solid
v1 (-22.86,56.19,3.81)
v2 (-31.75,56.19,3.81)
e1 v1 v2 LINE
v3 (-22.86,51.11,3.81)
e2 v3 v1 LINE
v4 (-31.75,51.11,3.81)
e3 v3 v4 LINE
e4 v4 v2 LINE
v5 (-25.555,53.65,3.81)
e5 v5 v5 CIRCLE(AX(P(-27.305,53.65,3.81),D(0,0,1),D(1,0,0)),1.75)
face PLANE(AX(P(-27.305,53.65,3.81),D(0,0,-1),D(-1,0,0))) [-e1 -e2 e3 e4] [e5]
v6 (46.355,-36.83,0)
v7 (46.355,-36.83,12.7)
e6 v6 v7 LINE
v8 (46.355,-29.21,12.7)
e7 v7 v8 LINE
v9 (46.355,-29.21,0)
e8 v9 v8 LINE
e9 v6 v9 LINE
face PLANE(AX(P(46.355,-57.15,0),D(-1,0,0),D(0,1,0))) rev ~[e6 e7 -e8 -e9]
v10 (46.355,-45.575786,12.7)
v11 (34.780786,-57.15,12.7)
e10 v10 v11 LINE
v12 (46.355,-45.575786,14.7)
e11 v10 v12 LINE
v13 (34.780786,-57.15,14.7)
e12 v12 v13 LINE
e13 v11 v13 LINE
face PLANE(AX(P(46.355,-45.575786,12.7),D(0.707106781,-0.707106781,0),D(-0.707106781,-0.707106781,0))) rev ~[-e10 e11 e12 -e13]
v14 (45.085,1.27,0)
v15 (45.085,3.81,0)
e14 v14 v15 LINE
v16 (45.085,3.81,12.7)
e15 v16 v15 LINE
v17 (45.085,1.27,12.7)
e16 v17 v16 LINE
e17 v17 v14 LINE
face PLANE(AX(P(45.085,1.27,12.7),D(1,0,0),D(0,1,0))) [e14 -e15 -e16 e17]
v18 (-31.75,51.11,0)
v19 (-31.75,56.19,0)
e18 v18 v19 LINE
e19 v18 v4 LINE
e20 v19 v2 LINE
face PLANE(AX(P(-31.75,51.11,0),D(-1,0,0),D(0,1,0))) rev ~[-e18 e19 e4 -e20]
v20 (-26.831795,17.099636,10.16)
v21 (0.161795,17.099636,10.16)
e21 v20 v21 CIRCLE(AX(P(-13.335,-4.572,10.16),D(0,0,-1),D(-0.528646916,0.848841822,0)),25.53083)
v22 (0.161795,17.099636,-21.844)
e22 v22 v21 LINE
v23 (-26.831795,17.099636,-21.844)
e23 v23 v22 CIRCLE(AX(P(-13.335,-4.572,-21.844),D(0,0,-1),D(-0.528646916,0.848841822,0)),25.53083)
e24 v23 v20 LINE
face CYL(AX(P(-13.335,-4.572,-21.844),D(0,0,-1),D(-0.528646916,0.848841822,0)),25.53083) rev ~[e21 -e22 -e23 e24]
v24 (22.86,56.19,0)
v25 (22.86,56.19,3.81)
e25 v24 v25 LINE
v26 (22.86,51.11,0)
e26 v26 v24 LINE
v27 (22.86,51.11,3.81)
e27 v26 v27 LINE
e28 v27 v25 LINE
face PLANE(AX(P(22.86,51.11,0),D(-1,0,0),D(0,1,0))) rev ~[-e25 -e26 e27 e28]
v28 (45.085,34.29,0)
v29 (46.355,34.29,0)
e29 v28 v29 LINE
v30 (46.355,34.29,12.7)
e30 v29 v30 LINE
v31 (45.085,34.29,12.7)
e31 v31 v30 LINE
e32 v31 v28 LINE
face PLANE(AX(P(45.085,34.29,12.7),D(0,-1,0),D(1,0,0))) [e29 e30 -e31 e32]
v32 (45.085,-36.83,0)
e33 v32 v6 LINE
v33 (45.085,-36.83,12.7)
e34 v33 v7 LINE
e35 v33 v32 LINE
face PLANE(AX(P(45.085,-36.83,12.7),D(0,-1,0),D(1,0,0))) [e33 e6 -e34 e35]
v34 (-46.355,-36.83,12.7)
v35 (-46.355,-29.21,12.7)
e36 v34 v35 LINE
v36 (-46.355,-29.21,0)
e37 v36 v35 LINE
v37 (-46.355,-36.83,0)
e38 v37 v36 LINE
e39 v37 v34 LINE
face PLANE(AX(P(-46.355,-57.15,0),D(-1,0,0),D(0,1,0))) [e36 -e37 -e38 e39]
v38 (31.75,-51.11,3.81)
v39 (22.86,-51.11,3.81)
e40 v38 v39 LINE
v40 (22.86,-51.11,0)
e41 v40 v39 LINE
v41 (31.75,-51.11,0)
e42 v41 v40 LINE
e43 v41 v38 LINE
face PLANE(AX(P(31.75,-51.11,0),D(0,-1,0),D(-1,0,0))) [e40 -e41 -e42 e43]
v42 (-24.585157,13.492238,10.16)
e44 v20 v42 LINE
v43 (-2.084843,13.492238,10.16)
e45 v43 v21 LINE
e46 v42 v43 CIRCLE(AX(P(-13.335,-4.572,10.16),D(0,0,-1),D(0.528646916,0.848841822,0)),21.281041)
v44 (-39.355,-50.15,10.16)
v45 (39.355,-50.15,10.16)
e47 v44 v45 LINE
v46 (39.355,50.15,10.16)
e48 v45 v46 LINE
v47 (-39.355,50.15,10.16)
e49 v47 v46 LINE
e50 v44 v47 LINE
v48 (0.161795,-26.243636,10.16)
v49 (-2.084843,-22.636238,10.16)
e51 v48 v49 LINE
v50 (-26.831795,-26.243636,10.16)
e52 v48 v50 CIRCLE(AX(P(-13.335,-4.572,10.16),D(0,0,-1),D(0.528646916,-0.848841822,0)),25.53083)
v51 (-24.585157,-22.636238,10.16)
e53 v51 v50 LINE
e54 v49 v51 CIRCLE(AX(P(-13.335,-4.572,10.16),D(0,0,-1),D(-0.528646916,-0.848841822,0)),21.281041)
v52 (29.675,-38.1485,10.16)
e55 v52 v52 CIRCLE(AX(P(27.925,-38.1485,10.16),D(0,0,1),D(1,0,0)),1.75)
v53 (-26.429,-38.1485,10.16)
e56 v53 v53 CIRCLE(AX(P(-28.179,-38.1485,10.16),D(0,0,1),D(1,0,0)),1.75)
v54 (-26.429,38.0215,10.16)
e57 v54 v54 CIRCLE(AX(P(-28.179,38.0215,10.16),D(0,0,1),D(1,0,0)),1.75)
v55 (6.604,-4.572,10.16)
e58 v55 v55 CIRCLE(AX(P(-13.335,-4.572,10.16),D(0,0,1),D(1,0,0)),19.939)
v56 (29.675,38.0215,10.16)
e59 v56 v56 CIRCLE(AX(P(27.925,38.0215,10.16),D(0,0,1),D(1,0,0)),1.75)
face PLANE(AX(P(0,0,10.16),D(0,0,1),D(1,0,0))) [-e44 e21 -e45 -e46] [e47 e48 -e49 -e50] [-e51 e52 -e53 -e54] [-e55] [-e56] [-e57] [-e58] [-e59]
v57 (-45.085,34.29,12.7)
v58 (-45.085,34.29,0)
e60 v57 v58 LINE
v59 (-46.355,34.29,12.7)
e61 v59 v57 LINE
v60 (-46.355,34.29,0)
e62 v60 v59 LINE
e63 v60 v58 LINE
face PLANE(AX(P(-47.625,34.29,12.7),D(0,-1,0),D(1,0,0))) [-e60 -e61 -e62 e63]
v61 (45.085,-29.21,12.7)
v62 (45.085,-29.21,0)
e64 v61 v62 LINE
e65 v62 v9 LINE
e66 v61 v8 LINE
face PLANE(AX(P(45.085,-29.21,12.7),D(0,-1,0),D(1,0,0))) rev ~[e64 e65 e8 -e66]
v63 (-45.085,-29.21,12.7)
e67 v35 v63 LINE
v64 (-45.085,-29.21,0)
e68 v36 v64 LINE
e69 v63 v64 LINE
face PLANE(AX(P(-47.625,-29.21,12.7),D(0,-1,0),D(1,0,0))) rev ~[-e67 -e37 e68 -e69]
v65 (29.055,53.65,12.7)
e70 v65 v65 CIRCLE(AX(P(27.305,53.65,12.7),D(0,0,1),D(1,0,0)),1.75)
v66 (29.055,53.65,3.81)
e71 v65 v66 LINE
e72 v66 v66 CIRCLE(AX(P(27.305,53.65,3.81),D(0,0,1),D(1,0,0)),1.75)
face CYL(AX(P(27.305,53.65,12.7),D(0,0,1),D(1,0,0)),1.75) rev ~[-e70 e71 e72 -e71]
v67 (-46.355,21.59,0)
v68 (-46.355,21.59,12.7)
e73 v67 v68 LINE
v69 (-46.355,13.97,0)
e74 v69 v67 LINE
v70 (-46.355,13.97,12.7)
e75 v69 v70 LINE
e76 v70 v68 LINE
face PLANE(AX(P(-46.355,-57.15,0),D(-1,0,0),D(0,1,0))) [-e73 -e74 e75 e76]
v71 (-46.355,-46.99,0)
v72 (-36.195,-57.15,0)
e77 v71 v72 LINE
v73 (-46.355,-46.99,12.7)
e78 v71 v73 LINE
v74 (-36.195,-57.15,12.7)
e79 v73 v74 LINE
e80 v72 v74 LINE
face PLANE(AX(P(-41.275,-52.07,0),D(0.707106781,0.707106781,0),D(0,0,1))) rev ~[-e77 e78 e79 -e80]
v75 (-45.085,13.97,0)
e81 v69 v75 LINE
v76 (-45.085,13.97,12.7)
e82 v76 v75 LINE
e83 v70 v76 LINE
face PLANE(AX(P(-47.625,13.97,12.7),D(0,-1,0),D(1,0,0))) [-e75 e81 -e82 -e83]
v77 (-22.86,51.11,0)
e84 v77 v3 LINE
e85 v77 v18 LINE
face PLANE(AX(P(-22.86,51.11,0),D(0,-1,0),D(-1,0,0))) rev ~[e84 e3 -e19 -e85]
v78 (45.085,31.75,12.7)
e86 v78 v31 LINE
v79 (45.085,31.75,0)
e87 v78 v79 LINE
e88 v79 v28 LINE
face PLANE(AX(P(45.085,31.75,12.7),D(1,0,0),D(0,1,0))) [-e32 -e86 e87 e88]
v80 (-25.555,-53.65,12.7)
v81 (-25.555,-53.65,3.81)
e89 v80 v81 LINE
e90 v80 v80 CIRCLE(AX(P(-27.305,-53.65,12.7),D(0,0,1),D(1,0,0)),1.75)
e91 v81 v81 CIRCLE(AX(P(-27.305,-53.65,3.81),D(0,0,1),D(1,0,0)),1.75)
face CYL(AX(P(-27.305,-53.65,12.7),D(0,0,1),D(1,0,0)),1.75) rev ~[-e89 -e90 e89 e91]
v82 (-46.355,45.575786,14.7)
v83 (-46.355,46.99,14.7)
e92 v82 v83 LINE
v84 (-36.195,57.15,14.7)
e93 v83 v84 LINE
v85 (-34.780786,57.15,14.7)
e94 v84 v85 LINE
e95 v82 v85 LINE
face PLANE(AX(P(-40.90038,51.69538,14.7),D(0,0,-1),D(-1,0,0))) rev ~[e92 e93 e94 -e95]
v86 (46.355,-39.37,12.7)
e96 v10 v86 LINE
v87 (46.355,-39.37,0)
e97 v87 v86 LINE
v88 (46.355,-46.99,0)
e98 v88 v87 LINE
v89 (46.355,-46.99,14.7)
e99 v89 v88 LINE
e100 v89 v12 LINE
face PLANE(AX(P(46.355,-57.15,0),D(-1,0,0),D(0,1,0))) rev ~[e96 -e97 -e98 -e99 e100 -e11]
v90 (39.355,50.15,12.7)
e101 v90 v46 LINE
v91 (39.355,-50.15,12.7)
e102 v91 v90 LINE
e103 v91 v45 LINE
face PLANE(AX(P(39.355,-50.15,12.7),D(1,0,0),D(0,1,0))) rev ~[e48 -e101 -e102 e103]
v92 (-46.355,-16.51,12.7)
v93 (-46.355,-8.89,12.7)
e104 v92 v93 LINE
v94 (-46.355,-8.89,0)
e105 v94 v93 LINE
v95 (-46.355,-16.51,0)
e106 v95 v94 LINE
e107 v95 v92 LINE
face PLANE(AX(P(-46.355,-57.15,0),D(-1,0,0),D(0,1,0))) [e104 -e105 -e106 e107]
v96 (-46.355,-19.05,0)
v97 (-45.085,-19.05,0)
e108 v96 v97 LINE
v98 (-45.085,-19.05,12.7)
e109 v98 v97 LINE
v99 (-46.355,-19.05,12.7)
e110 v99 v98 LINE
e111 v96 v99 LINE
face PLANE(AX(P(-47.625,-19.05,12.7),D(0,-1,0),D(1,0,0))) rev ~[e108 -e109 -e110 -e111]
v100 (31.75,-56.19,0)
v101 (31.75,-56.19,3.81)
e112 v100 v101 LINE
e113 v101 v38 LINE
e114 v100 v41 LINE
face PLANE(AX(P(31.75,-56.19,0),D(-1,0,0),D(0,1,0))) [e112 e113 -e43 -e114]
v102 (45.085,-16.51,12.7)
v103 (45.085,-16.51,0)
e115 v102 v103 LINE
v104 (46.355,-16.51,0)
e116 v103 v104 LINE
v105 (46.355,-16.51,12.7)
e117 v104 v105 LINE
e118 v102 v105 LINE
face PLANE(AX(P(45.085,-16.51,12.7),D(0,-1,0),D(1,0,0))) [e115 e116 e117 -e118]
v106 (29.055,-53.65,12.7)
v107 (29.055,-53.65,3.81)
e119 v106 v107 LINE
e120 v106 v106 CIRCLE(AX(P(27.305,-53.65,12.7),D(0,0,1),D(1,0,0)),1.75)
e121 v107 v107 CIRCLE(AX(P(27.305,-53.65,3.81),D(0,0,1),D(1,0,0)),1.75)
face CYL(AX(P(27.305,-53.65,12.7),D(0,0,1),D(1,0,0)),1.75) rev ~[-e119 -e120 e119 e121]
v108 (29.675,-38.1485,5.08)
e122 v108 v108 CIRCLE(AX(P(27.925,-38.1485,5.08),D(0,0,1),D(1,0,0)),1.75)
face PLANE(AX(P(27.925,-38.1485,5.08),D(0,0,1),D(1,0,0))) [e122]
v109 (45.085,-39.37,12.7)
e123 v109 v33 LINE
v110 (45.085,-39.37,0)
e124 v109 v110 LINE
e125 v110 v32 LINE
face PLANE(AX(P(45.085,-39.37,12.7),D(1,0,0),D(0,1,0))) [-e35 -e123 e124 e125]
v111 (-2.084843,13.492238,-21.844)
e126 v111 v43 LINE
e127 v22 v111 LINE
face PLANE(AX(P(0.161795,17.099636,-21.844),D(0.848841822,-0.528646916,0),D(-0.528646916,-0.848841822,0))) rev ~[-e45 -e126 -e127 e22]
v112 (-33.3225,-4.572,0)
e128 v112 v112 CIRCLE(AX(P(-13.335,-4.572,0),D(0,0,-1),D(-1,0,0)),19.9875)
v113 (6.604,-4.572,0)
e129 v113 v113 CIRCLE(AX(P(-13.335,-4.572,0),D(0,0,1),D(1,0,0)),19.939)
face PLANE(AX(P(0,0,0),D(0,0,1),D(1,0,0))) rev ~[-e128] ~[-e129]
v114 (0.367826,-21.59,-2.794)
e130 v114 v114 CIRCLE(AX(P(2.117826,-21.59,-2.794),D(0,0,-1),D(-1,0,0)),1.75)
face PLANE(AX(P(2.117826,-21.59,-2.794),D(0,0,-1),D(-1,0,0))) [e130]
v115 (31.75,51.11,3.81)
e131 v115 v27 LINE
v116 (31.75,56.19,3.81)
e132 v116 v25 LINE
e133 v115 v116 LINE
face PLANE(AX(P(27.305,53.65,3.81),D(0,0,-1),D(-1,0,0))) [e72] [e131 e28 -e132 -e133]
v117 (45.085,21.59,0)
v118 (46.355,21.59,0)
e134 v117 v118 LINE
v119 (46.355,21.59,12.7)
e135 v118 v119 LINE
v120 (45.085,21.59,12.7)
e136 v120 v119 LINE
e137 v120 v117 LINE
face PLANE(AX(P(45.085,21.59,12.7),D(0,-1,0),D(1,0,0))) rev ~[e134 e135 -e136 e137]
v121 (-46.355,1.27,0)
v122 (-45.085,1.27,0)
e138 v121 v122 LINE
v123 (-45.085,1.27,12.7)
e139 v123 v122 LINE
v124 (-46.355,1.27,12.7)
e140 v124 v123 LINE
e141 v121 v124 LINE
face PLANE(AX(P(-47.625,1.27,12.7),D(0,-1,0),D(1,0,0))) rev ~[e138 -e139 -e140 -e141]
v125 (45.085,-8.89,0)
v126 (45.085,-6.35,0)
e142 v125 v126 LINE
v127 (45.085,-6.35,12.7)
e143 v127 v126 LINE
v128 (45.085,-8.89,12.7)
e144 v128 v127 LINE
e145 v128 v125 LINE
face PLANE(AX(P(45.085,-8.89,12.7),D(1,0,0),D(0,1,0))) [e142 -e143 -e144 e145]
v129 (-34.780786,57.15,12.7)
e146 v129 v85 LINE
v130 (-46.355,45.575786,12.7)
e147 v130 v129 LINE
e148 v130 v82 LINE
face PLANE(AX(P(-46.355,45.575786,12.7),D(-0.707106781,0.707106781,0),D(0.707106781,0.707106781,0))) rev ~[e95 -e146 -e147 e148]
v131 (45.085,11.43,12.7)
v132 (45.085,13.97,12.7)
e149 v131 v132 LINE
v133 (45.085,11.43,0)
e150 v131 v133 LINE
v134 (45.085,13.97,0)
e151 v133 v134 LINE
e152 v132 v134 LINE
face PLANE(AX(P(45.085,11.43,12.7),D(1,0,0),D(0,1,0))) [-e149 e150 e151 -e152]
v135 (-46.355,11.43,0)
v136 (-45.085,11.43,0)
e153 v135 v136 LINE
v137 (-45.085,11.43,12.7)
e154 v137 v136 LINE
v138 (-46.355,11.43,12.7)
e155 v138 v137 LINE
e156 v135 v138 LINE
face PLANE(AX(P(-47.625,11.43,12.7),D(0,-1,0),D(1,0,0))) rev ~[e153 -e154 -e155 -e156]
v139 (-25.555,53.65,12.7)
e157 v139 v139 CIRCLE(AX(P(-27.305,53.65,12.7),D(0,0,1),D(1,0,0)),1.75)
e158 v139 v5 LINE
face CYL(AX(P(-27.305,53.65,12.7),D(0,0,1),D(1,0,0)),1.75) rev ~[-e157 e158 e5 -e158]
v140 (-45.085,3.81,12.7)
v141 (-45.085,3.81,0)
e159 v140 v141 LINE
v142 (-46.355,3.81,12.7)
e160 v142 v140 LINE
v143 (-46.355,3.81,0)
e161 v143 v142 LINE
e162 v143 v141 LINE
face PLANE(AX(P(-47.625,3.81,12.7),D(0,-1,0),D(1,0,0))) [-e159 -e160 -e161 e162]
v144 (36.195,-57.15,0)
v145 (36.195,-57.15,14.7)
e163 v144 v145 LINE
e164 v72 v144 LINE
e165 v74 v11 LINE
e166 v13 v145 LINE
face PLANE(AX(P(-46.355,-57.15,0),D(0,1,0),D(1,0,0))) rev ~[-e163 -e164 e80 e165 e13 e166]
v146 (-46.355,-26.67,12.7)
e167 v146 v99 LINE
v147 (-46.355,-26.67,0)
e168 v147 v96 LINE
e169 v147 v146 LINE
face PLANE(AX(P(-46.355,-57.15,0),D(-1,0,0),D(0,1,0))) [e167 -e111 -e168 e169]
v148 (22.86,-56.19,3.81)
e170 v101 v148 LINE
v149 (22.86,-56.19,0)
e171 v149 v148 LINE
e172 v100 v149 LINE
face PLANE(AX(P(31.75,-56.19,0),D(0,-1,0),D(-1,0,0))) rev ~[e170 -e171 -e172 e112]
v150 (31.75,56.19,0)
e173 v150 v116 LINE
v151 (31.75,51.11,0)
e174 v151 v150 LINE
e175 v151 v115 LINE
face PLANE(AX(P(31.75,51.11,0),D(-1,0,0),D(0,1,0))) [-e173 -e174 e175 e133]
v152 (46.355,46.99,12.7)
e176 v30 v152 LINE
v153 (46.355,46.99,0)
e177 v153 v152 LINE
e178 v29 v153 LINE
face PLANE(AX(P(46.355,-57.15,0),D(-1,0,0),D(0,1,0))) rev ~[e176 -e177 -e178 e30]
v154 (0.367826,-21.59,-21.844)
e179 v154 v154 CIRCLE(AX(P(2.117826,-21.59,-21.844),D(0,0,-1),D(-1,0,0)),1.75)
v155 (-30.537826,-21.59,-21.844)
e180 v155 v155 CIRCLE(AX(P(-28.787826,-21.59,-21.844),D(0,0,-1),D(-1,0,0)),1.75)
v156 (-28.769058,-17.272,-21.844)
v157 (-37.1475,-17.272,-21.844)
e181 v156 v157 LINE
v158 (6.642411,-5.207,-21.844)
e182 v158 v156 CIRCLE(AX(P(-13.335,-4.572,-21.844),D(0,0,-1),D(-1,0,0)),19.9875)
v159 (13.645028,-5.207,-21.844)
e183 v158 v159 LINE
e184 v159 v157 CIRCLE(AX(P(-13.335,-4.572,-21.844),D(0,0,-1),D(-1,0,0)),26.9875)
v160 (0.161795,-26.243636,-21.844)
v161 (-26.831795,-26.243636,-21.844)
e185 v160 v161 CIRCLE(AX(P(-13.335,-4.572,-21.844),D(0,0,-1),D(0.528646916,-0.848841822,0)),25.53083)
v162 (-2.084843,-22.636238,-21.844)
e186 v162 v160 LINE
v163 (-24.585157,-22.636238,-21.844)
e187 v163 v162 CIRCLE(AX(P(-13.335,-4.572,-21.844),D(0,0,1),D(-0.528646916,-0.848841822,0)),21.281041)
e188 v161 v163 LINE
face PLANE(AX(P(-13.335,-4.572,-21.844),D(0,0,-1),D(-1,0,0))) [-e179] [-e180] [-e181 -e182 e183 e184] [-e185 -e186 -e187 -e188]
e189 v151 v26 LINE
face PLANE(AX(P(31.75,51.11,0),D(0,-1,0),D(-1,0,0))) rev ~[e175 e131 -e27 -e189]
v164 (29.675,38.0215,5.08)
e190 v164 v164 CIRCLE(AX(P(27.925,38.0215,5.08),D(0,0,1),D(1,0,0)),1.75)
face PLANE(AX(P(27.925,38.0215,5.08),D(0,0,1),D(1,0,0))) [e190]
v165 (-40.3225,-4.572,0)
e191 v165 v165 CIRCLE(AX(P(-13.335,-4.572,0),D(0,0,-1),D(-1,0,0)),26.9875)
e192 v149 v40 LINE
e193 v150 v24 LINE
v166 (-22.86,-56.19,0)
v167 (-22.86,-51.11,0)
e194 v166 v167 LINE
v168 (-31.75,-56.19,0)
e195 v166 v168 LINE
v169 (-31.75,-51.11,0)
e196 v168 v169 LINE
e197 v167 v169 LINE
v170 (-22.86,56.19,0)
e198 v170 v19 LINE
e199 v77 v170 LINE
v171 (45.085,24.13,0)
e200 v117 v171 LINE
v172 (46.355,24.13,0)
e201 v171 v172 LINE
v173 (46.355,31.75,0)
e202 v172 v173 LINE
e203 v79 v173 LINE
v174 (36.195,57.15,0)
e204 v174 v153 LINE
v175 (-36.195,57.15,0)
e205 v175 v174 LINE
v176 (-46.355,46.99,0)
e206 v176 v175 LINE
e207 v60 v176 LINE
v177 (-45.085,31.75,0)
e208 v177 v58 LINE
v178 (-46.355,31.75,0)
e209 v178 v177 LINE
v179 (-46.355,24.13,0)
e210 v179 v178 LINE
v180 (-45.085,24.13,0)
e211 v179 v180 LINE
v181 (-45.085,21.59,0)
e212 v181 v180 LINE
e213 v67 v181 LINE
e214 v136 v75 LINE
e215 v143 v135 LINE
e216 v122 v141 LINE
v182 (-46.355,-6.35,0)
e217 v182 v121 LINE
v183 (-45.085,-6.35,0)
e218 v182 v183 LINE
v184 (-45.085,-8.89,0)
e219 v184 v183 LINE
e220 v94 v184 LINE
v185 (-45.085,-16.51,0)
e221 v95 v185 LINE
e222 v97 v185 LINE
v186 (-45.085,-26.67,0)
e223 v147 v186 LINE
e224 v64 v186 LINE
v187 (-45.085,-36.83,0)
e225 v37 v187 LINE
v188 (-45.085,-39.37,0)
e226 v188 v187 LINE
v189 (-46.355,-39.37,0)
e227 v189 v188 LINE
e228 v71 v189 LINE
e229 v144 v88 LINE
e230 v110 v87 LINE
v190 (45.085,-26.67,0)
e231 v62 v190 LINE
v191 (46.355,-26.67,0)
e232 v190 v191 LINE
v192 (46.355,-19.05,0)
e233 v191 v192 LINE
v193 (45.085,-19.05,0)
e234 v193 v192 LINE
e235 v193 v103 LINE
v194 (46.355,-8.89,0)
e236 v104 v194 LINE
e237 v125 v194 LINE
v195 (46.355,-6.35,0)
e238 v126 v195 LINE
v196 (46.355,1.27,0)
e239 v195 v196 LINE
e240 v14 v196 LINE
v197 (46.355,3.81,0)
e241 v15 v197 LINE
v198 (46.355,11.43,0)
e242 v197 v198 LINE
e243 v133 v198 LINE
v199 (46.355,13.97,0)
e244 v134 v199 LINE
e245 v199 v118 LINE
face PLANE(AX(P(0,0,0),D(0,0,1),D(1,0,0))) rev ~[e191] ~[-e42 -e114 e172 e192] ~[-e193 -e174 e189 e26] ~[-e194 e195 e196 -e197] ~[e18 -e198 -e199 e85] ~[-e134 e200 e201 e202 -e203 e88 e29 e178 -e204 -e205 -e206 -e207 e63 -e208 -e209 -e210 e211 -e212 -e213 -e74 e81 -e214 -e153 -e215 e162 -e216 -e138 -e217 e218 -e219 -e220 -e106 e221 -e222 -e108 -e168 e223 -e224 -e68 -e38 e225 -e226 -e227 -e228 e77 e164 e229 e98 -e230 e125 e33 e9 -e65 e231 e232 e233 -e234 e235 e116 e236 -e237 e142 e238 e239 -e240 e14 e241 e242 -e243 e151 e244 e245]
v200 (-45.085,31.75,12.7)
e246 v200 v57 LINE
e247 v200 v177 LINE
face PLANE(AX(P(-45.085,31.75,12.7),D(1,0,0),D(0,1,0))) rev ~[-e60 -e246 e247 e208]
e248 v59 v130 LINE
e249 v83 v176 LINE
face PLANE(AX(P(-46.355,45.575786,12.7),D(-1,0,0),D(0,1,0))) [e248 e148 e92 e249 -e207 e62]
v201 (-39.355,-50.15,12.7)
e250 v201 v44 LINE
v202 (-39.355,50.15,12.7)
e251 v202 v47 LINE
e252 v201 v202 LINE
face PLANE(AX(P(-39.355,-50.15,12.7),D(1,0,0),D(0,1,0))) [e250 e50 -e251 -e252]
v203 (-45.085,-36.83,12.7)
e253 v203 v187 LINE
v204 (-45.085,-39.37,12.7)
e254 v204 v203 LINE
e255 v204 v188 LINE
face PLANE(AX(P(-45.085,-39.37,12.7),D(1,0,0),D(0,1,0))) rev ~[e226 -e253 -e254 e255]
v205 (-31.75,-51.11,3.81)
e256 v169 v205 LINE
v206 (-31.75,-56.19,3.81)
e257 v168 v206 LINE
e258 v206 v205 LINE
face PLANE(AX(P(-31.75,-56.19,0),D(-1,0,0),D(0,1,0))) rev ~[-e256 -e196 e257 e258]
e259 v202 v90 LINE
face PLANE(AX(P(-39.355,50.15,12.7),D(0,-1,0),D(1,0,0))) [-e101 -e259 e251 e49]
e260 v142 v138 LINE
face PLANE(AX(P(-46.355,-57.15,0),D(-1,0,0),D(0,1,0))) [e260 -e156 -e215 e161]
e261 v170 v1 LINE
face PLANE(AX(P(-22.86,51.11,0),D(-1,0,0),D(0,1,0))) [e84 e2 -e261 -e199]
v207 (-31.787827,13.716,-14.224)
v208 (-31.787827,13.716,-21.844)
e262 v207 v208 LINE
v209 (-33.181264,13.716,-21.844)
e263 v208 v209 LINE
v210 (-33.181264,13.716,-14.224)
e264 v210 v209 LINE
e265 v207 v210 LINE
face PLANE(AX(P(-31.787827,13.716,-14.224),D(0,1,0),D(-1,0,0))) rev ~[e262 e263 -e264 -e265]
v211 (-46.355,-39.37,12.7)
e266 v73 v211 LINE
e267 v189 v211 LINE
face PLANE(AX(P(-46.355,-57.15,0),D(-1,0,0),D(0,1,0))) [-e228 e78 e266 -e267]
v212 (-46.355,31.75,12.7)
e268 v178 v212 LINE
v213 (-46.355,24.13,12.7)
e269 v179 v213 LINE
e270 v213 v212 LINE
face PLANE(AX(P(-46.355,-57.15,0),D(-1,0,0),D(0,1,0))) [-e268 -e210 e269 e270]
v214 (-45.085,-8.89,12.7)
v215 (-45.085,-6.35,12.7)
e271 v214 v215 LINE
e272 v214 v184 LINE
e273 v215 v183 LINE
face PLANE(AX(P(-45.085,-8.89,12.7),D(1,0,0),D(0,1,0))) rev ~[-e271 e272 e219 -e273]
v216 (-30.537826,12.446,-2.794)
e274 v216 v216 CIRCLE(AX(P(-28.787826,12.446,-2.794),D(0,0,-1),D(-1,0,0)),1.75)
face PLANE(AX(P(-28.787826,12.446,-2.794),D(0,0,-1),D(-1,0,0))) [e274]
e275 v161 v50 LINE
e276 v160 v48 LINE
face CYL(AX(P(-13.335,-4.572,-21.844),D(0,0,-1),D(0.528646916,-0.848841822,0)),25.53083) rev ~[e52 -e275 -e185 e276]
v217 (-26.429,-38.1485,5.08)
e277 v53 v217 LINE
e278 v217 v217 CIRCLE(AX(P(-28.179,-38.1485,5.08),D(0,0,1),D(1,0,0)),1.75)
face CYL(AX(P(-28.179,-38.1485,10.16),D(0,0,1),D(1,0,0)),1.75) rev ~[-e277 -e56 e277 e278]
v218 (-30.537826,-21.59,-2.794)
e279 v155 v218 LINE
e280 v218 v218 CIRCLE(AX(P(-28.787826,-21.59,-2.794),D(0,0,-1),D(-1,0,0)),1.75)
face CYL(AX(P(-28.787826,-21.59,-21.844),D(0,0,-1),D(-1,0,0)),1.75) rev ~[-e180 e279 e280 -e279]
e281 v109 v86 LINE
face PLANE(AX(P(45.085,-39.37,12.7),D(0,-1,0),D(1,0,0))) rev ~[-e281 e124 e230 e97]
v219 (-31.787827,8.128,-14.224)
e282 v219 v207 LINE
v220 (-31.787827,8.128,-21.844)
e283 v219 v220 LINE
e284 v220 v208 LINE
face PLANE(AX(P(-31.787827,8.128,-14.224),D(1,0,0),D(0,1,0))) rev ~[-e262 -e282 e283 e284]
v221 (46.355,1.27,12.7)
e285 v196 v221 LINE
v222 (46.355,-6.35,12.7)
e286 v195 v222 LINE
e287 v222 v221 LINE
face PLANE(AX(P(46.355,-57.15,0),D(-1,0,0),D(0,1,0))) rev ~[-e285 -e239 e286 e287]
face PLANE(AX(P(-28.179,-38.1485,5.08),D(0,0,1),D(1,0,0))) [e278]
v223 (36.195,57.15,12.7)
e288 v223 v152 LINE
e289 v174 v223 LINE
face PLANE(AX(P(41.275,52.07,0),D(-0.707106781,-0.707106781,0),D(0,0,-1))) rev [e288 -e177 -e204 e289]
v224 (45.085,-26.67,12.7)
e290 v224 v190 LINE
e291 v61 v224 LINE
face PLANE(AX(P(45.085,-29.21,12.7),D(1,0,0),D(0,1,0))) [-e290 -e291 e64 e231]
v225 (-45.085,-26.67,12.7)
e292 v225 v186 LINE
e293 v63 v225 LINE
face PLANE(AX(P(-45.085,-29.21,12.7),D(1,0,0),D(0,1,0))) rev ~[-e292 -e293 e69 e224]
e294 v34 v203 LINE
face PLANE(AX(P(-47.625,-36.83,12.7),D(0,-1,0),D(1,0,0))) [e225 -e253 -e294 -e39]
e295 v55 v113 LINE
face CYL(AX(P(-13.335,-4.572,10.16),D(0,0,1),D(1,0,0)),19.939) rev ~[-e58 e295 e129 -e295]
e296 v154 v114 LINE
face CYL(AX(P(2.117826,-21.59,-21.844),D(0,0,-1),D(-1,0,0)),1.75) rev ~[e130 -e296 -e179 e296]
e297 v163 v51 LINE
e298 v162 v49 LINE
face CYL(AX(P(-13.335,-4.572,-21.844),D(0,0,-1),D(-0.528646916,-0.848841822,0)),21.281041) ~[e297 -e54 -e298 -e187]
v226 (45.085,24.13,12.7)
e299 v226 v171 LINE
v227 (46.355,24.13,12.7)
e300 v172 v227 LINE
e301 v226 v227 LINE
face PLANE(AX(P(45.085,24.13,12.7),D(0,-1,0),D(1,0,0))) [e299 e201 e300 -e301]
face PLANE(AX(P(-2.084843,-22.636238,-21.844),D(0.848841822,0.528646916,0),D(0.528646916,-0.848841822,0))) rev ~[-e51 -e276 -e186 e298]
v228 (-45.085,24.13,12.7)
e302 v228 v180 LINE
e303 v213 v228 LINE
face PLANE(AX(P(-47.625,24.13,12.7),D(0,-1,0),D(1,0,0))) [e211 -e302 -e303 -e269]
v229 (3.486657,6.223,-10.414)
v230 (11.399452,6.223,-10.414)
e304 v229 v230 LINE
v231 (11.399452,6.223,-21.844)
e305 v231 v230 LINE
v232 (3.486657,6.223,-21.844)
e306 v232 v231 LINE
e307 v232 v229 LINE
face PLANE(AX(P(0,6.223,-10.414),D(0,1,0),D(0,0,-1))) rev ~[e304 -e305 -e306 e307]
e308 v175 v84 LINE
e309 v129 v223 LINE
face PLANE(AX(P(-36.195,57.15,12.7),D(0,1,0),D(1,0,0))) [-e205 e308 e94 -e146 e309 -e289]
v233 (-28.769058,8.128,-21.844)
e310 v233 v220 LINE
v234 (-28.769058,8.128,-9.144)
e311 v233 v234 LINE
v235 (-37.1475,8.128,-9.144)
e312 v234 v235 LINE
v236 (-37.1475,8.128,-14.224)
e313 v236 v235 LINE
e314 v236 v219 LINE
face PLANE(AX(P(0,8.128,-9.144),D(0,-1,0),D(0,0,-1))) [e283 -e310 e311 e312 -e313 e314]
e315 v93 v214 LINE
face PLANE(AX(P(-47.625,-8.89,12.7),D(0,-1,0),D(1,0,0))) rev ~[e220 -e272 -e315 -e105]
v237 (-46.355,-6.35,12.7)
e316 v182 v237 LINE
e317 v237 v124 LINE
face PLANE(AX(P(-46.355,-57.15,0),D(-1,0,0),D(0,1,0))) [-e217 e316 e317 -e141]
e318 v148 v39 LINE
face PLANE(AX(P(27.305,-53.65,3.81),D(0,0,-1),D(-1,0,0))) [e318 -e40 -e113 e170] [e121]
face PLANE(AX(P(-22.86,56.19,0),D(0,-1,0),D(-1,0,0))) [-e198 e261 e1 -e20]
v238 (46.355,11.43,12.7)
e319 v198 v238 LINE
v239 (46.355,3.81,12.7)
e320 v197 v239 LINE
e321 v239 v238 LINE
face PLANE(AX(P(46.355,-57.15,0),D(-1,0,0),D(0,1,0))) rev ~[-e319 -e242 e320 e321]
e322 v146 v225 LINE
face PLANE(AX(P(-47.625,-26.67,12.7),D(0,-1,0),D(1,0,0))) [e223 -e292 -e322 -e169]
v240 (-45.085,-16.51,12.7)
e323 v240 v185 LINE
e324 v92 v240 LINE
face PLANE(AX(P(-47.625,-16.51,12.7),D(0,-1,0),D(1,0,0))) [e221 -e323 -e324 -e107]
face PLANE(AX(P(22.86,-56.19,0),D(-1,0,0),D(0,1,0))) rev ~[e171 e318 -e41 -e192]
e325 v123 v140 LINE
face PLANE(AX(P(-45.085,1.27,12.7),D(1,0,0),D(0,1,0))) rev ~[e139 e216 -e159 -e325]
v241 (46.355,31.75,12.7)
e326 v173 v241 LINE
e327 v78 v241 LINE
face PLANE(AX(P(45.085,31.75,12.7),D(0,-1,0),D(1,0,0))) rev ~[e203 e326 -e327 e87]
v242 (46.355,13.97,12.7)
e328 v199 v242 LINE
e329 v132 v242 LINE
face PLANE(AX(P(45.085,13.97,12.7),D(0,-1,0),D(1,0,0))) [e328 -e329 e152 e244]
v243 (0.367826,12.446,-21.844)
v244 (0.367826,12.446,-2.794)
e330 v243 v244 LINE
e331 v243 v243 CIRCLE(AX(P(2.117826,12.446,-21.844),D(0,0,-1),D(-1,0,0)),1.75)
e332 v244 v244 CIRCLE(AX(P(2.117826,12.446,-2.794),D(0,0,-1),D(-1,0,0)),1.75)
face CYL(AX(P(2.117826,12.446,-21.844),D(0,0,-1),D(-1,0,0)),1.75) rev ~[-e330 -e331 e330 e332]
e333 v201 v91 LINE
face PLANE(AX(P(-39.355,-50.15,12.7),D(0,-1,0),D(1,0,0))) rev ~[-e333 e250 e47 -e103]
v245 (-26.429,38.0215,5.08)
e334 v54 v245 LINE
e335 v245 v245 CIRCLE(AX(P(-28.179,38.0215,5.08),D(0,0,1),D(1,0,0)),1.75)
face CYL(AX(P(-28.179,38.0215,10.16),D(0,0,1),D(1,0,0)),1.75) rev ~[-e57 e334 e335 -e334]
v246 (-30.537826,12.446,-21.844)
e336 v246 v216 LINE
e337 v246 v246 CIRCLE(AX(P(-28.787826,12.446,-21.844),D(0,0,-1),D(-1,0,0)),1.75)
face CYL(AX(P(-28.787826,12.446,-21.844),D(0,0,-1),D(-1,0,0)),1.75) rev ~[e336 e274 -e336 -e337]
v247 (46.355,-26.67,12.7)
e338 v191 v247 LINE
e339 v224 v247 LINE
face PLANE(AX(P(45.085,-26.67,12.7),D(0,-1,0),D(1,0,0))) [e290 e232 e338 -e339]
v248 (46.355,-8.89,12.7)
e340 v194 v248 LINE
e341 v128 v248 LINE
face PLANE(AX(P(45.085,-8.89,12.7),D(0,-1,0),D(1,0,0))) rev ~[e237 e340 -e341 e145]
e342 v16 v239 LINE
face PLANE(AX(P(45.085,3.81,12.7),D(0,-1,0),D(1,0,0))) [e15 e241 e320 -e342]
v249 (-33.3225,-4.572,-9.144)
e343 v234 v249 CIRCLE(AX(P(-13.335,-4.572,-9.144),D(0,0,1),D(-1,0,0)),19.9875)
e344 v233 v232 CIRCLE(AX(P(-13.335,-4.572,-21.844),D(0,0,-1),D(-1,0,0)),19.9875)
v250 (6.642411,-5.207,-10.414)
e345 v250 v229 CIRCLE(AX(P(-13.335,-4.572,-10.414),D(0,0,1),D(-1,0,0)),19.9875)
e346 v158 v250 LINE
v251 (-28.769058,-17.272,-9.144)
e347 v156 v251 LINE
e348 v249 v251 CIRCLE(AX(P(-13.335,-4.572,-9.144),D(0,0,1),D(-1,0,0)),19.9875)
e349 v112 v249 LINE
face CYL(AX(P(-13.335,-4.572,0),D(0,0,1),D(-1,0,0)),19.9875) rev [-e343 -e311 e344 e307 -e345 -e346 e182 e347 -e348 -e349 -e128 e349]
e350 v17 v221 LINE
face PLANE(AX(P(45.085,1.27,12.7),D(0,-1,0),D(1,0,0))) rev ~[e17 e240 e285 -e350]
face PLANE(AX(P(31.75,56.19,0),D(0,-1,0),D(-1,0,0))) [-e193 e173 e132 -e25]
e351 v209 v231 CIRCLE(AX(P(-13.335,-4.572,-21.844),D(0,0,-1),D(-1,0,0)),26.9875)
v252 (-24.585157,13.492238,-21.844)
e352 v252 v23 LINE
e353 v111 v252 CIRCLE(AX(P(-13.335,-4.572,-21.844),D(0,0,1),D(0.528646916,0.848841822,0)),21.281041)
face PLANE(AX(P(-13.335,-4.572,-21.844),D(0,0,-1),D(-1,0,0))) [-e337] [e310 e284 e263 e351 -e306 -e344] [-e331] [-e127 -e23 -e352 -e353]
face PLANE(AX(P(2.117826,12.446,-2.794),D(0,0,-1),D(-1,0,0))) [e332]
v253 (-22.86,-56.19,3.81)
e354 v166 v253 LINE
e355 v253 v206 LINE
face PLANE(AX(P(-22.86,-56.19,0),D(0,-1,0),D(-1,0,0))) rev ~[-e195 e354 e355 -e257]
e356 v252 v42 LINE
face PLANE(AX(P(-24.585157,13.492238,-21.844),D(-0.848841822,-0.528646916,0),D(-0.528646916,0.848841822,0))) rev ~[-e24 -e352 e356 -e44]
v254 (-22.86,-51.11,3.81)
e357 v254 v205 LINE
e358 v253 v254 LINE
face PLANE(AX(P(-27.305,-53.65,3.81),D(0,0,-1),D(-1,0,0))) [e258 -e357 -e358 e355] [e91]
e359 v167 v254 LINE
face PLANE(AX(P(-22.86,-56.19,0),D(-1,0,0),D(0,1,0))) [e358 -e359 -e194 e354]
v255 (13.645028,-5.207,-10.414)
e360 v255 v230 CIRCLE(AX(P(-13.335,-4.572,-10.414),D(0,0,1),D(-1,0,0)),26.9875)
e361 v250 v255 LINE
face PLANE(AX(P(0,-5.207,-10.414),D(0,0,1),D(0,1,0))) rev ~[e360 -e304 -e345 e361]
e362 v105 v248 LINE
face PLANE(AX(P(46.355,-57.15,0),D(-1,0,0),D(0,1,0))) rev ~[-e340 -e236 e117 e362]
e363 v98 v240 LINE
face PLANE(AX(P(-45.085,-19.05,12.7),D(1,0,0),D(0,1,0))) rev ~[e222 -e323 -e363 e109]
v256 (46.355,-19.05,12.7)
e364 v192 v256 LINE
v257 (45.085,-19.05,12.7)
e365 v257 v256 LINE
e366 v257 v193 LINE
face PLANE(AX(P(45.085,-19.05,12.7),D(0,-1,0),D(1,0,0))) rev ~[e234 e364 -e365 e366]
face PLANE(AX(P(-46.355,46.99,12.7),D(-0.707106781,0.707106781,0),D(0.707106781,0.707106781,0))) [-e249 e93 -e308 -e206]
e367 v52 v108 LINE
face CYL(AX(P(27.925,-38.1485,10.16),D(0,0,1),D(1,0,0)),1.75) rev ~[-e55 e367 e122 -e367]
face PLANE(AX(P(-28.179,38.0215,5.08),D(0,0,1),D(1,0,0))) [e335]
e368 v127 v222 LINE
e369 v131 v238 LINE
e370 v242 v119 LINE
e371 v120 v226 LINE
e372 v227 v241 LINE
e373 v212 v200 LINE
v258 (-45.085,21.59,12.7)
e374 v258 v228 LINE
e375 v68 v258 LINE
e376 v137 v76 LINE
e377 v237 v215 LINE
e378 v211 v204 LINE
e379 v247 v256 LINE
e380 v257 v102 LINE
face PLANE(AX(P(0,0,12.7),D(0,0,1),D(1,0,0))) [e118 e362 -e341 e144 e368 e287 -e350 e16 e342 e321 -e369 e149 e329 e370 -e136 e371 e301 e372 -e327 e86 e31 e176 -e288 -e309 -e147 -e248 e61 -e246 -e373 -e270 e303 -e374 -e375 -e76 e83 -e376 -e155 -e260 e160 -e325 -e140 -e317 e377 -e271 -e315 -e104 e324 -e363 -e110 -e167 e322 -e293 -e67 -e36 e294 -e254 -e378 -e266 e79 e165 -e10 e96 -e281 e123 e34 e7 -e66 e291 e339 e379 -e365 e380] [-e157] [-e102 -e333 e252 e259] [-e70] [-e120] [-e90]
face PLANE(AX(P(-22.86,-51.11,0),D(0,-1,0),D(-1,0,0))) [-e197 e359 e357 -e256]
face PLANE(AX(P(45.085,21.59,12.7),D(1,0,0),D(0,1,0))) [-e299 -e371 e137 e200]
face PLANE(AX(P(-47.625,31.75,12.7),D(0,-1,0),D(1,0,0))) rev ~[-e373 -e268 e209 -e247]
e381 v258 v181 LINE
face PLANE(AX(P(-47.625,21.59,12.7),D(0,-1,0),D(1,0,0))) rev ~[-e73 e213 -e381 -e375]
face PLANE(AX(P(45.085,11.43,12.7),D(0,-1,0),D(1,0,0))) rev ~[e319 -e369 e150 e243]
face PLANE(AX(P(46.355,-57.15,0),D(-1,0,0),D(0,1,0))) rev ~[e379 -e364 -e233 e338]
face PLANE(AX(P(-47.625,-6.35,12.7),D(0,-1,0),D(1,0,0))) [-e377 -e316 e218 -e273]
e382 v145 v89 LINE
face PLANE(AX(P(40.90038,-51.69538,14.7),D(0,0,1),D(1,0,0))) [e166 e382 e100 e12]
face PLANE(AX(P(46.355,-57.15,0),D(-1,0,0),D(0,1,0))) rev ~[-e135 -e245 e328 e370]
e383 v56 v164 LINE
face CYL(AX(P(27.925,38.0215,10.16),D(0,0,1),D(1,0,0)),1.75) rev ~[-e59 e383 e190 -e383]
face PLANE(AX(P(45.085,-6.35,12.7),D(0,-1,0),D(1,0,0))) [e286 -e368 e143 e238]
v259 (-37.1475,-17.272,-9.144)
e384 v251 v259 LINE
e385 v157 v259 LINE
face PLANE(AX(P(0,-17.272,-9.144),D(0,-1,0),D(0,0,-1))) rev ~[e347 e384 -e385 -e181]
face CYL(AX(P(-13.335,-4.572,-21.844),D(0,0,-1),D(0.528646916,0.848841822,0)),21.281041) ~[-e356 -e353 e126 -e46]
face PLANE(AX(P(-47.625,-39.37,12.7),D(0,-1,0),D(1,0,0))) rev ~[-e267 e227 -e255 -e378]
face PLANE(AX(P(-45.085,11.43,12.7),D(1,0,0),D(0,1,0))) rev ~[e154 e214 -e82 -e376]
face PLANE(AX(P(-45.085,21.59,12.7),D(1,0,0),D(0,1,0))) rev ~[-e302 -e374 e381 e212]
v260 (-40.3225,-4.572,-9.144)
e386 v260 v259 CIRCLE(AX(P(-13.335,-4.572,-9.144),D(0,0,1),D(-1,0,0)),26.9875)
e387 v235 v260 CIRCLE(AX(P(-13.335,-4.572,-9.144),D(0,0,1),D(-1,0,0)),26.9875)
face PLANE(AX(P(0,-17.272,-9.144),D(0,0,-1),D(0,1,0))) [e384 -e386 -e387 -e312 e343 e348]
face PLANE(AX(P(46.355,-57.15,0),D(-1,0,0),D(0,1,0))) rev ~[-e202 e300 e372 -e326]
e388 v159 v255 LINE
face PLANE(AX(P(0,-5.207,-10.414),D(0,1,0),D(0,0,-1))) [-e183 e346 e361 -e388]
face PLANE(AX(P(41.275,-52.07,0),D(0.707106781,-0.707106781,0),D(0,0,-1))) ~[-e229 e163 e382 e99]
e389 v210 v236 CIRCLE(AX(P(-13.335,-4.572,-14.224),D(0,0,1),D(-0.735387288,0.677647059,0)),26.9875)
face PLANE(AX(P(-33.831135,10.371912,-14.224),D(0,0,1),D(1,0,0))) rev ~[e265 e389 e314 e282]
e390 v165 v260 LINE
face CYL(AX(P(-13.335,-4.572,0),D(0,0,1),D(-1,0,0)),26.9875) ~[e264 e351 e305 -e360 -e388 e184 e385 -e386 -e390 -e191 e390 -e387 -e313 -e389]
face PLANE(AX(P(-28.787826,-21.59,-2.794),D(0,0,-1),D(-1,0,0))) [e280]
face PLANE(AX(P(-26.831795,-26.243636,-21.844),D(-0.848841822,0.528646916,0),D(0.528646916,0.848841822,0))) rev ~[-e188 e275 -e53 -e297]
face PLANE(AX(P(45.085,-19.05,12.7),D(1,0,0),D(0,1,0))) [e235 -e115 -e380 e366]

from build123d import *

# Parameters (mm, degrees)
SKETCH1_W           = 92.71
SKETCH1_H           = 114.3
BOSS_EXTRUDE1_DEPTH = 12.7
SKETCH2_W           = 78.71000006
SKETCH2_H           = 100.30000006
CUT_EXTRUDE1_DEPTH  = 2.54
SKETCH3_R           = 19.939
CUT_EXTRUDE2_DEPTH  = 75.284144506
SKETCH4_R           = 26.9875
SKETCH4_R_2         = 19.98750003
BOSS_EXTRUDE2_DEPTH = 21.844
SKETCH6_R           = 1.750000056
CUT_EXTRUDE3_DEPTH  = 19.05
SKETCH12_W          = 12.7
SKETCH12_H          = 25.4
CUT_EXTRUDE6_DEPTH  = 77.759812799
SKETCH13_W          = 11.43
SKETCH13_H          = 11.43
CUT_EXTRUDE7_DEPTH  = 77.759812799
SKETCH14_R          = 1.750000056
CUT_EXTRUDE8_DEPTH  = 82.290814124
SKETCH16_W          = 8.89
SKETCH16_H          = 5.08
CUT_EXTRUDE9_DEPTH  = 3.81
SKETCH18_R          = 1.75
CUT_EXTRUDE11_DEPTH = 5.08
SKETCH19_W          = 2.54
SKETCH19_H          = 2.54
CUT_EXTRUDE12_DEPTH = 82.290814124
CHAMFER2_SIZE       = 10.16
CUT_EXTRUDE13_DEPTH = 82.290814124
BOSS_EXTRUDE3_DEPTH = 2
CUT_EXTRUDE14_START = -7.62
CUT_EXTRUDE14_DEPTH = 7.62


with BuildPart() as part:
    # Sketch1 → Boss-Extrude1 (new body)
    with BuildSketch(Plane.XY):
        Rectangle(SKETCH1_W, SKETCH1_H)
    extrude(amount=BOSS_EXTRUDE1_DEPTH)

    # Sketch2 → Cut-Extrude1 (cut)
    with BuildSketch(Plane.XY.offset(12.7)):
        Rectangle(SKETCH2_W, SKETCH2_H)
    extrude(amount=-CUT_EXTRUDE1_DEPTH, mode=Mode.SUBTRACT)

    # Sketch3 → Cut-Extrude2 (cut, through all)
    with BuildSketch(Plane.XY.offset(10.16)):
        with Locations((-13.335, -4.572)):
            Circle(SKETCH3_R)
    extrude(amount=-CUT_EXTRUDE2_DEPTH, mode=Mode.SUBTRACT)

    # Sketch4 → Boss-Extrude2 (add)
    with BuildSketch(Plane(origin=(0, 0, 0), x_dir=(-1, 0, 0), z_dir=(0, 0, -1))):
        with Locations((13.335, -4.572)):
            Circle(SKETCH4_R)
        with Locations((13.335, -4.572)):
            Circle(SKETCH4_R_2, mode=Mode.SUBTRACT)
    extrude(amount=BOSS_EXTRUDE2_DEPTH)

    # Sketch6 → Cut-Extrude3 (cut)
    with BuildSketch(Plane(origin=(0, 0, -21.844), x_dir=(-1, 0, 0), z_dir=(0, 0, -1))):
        with Locations((-2.11782644, 12.446)):
            Circle(SKETCH6_R)
        with Locations((28.78782644, -21.59)):
            Circle(SKETCH6_R)
        with Locations((28.78782644, 12.446)):
            Circle(SKETCH6_R)
        with Locations((-2.11782644, -21.59)):
            Circle(SKETCH6_R)
    extrude(amount=-CUT_EXTRUDE3_DEPTH, mode=Mode.SUBTRACT)

    # Sketch12 → Cut-Extrude6 (cut, through all)
    with BuildSketch(Plane(origin=(0, 0, 0), x_dir=(0, 0, -1), z_dir=(1, 0, 0))):
        with Locations((15.494, -4.572)):
            Rectangle(SKETCH12_W, SKETCH12_H)
    extrude(amount=-CUT_EXTRUDE6_DEPTH, mode=Mode.SUBTRACT)

    # Sketch13 → Cut-Extrude7 (cut, through all)
    with BuildSketch(Plane(origin=(0, 0, 0), x_dir=(0, 0, -1), z_dir=(1, 0, 0))):
        with Locations((16.129, 0.508)):
            Rectangle(SKETCH13_W, SKETCH13_H)
    extrude(amount=CUT_EXTRUDE7_DEPTH, mode=Mode.SUBTRACT)

    # Sketch14 → Cut-Extrude8 (cut, through all)
    with BuildSketch(Plane.XY.offset(12.7)):
        with Locations((-27.305, 53.65)):
            Circle(SKETCH14_R)
        with Locations((27.305, 53.65)):
            Circle(SKETCH14_R)
        with Locations((-27.305, -53.65)):
            Circle(SKETCH14_R)
        with Locations((27.305, -53.65)):
            Circle(SKETCH14_R)
    extrude(amount=-CUT_EXTRUDE8_DEPTH, mode=Mode.SUBTRACT)

    # Sketch16 → Cut-Extrude9 (cut)
    with BuildSketch(Plane(origin=(0, 0, 0), x_dir=(-1, 0, 0), z_dir=(0, 0, -1))):
        with Locations((-27.305, 53.65)):
            Rectangle(SKETCH16_W, SKETCH16_H)
        with Locations((27.305, 53.65)):
            Rectangle(SKETCH16_W, SKETCH16_H)
        with Locations((27.305, -53.65)):
            Rectangle(SKETCH16_W, SKETCH16_H)
        with Locations((-27.305, -53.65)):
            Rectangle(SKETCH16_W, SKETCH16_H)
    extrude(amount=-CUT_EXTRUDE9_DEPTH, mode=Mode.SUBTRACT)

    # Sketch18 → Cut-Extrude11 (cut)
    with BuildSketch(Plane.XY.offset(10.16)):
        with Locations((-28.17900003, 38.02150003)):
            Circle(SKETCH18_R)
        with Locations((27.92500003, 38.02150003)):
            Circle(SKETCH18_R)
        with Locations((-28.17900003, -38.14850003)):
            Circle(SKETCH18_R)
        with Locations((27.92500003, -38.14850003)):
            Circle(SKETCH18_R)
    extrude(amount=-CUT_EXTRUDE11_DEPTH, mode=Mode.SUBTRACT)

    # Sketch19 → Cut-Extrude12 (cut, through all)
    with BuildSketch(Plane.XY.offset(12.7)):
        with Locations((-46.355, -38.1)):
            Rectangle(SKETCH19_W, SKETCH19_H)
        with Locations((46.355, -38.1)):
            Rectangle(SKETCH19_W, SKETCH19_H)
        with Locations((-46.355, -27.94)):
            Rectangle(SKETCH19_W, SKETCH19_H)
        with Locations((46.355, -27.94)):
            Rectangle(SKETCH19_W, SKETCH19_H)
        with Locations((-46.355, -17.78)):
            Rectangle(SKETCH19_W, SKETCH19_H)
        with Locations((46.355, -17.78)):
            Rectangle(SKETCH19_W, SKETCH19_H)
        with Locations((-46.355, -7.62)):
            Rectangle(SKETCH19_W, SKETCH19_H)
        with Locations((46.355, -7.62)):
            Rectangle(SKETCH19_W, SKETCH19_H)
        with Locations((-46.355, 2.54)):
            Rectangle(SKETCH19_W, SKETCH19_H)
        with Locations((46.355, 2.54)):
            Rectangle(SKETCH19_W, SKETCH19_H)
        with Locations((-46.355, 12.7)):
            Rectangle(SKETCH19_W, SKETCH19_H)
        with Locations((46.355, 12.7)):
            Rectangle(SKETCH19_W, SKETCH19_H)
        with Locations((-46.355, 22.86)):
            Rectangle(SKETCH19_W, SKETCH19_H)
        with Locations((46.355, 22.86)):
            Rectangle(SKETCH19_W, SKETCH19_H)
        with Locations((-46.355, 33.02)):
            Rectangle(SKETCH19_W, SKETCH19_H)
        with Locations((46.355, 33.02)):
            Rectangle(SKETCH19_W, SKETCH19_H)
    extrude(amount=-CUT_EXTRUDE12_DEPTH, mode=Mode.SUBTRACT)

    # Chamfer2
    chamfer2_edges = [part.edges().sort_by_distance(p)[0] for p in [
        (46.355, -57.15, 6.35),
        (-46.355, -57.15, 6.35),
        (-46.355, 57.15, 6.35),
        (46.355, 57.15, 6.35),
    ]]
    chamfer(chamfer2_edges, length=CHAMFER2_SIZE)

    # Sketch20 → Cut-Extrude13 (cut, through all)
    with BuildSketch(Plane(origin=(0, 0, -21.844), x_dir=(-1, 0, 0), z_dir=(0, 0, -1))):
        with BuildLine():
            Line((-0.161794567, 17.099636308), (2.084843313, 13.492237618))
            ThreePointArc((2.084843313, 13.492237618), (13.335, 16.709041004), (24.585156687, 13.492237618))
            Line((24.585156687, 13.492237618), (26.831794567, 17.099636308))
            ThreePointArc((26.831794567, 17.099636308), (13.335, 20.958830066), (-0.161794567, 17.099636308))
        make_face()
        with BuildLine():
            Line((2.084843313, -22.636237618), (-0.161794567, -26.243636308))
            ThreePointArc((-0.161794567, -26.243636308), (13.335, -30.102830066), (26.831794567, -26.243636308))
            Line((26.831794567, -26.243636308), (24.585156687, -22.636237618))
            ThreePointArc((24.585156687, -22.636237618), (13.335, -25.853041004), (2.084843313, -22.636237618))
        make_face()
    extrude(amount=-CUT_EXTRUDE13_DEPTH, mode=Mode.SUBTRACT)

    # Sketch21 → Boss-Extrude3 (add)
    with BuildSketch(Plane.XY.offset(12.7)):
        Polygon((-40.567893219, 51.362893219), (-46.355, 45.575786438), (-46.355, 46.99), (-36.195, 57.15), (-34.780786438, 57.15), align=None)
        Polygon((40.567893219, -51.362893219), (34.780786438, -57.15), (36.195, -57.15), (46.355, -46.99), (46.355, -45.575786438), align=None)
    extrude(amount=BOSS_EXTRUDE3_DEPTH)

    # Sketch22 → Cut-Extrude14 (cut)
    with BuildSketch(Plane(origin=(0, 0, -21.844), x_dir=(-1, 0, 0), z_dir=(0, 0, -1)).offset(CUT_EXTRUDE14_START)):
        with BuildLine():
            Line((31.787826536, 8.128), (31.787826536, 13.716))
            Line((31.787826536, 13.716), (33.181264441, 13.716))
            ThreePointArc((33.181264441, 13.716), (35.342461556, 11.04839667), (37.1475, 8.128))
            Line((37.1475, 8.128), (31.787826536, 8.128))
        make_face()
    extrude(amount=CUT_EXTRUDE14_DEPTH, mode=Mode.SUBTRACT)


solid = part.part
